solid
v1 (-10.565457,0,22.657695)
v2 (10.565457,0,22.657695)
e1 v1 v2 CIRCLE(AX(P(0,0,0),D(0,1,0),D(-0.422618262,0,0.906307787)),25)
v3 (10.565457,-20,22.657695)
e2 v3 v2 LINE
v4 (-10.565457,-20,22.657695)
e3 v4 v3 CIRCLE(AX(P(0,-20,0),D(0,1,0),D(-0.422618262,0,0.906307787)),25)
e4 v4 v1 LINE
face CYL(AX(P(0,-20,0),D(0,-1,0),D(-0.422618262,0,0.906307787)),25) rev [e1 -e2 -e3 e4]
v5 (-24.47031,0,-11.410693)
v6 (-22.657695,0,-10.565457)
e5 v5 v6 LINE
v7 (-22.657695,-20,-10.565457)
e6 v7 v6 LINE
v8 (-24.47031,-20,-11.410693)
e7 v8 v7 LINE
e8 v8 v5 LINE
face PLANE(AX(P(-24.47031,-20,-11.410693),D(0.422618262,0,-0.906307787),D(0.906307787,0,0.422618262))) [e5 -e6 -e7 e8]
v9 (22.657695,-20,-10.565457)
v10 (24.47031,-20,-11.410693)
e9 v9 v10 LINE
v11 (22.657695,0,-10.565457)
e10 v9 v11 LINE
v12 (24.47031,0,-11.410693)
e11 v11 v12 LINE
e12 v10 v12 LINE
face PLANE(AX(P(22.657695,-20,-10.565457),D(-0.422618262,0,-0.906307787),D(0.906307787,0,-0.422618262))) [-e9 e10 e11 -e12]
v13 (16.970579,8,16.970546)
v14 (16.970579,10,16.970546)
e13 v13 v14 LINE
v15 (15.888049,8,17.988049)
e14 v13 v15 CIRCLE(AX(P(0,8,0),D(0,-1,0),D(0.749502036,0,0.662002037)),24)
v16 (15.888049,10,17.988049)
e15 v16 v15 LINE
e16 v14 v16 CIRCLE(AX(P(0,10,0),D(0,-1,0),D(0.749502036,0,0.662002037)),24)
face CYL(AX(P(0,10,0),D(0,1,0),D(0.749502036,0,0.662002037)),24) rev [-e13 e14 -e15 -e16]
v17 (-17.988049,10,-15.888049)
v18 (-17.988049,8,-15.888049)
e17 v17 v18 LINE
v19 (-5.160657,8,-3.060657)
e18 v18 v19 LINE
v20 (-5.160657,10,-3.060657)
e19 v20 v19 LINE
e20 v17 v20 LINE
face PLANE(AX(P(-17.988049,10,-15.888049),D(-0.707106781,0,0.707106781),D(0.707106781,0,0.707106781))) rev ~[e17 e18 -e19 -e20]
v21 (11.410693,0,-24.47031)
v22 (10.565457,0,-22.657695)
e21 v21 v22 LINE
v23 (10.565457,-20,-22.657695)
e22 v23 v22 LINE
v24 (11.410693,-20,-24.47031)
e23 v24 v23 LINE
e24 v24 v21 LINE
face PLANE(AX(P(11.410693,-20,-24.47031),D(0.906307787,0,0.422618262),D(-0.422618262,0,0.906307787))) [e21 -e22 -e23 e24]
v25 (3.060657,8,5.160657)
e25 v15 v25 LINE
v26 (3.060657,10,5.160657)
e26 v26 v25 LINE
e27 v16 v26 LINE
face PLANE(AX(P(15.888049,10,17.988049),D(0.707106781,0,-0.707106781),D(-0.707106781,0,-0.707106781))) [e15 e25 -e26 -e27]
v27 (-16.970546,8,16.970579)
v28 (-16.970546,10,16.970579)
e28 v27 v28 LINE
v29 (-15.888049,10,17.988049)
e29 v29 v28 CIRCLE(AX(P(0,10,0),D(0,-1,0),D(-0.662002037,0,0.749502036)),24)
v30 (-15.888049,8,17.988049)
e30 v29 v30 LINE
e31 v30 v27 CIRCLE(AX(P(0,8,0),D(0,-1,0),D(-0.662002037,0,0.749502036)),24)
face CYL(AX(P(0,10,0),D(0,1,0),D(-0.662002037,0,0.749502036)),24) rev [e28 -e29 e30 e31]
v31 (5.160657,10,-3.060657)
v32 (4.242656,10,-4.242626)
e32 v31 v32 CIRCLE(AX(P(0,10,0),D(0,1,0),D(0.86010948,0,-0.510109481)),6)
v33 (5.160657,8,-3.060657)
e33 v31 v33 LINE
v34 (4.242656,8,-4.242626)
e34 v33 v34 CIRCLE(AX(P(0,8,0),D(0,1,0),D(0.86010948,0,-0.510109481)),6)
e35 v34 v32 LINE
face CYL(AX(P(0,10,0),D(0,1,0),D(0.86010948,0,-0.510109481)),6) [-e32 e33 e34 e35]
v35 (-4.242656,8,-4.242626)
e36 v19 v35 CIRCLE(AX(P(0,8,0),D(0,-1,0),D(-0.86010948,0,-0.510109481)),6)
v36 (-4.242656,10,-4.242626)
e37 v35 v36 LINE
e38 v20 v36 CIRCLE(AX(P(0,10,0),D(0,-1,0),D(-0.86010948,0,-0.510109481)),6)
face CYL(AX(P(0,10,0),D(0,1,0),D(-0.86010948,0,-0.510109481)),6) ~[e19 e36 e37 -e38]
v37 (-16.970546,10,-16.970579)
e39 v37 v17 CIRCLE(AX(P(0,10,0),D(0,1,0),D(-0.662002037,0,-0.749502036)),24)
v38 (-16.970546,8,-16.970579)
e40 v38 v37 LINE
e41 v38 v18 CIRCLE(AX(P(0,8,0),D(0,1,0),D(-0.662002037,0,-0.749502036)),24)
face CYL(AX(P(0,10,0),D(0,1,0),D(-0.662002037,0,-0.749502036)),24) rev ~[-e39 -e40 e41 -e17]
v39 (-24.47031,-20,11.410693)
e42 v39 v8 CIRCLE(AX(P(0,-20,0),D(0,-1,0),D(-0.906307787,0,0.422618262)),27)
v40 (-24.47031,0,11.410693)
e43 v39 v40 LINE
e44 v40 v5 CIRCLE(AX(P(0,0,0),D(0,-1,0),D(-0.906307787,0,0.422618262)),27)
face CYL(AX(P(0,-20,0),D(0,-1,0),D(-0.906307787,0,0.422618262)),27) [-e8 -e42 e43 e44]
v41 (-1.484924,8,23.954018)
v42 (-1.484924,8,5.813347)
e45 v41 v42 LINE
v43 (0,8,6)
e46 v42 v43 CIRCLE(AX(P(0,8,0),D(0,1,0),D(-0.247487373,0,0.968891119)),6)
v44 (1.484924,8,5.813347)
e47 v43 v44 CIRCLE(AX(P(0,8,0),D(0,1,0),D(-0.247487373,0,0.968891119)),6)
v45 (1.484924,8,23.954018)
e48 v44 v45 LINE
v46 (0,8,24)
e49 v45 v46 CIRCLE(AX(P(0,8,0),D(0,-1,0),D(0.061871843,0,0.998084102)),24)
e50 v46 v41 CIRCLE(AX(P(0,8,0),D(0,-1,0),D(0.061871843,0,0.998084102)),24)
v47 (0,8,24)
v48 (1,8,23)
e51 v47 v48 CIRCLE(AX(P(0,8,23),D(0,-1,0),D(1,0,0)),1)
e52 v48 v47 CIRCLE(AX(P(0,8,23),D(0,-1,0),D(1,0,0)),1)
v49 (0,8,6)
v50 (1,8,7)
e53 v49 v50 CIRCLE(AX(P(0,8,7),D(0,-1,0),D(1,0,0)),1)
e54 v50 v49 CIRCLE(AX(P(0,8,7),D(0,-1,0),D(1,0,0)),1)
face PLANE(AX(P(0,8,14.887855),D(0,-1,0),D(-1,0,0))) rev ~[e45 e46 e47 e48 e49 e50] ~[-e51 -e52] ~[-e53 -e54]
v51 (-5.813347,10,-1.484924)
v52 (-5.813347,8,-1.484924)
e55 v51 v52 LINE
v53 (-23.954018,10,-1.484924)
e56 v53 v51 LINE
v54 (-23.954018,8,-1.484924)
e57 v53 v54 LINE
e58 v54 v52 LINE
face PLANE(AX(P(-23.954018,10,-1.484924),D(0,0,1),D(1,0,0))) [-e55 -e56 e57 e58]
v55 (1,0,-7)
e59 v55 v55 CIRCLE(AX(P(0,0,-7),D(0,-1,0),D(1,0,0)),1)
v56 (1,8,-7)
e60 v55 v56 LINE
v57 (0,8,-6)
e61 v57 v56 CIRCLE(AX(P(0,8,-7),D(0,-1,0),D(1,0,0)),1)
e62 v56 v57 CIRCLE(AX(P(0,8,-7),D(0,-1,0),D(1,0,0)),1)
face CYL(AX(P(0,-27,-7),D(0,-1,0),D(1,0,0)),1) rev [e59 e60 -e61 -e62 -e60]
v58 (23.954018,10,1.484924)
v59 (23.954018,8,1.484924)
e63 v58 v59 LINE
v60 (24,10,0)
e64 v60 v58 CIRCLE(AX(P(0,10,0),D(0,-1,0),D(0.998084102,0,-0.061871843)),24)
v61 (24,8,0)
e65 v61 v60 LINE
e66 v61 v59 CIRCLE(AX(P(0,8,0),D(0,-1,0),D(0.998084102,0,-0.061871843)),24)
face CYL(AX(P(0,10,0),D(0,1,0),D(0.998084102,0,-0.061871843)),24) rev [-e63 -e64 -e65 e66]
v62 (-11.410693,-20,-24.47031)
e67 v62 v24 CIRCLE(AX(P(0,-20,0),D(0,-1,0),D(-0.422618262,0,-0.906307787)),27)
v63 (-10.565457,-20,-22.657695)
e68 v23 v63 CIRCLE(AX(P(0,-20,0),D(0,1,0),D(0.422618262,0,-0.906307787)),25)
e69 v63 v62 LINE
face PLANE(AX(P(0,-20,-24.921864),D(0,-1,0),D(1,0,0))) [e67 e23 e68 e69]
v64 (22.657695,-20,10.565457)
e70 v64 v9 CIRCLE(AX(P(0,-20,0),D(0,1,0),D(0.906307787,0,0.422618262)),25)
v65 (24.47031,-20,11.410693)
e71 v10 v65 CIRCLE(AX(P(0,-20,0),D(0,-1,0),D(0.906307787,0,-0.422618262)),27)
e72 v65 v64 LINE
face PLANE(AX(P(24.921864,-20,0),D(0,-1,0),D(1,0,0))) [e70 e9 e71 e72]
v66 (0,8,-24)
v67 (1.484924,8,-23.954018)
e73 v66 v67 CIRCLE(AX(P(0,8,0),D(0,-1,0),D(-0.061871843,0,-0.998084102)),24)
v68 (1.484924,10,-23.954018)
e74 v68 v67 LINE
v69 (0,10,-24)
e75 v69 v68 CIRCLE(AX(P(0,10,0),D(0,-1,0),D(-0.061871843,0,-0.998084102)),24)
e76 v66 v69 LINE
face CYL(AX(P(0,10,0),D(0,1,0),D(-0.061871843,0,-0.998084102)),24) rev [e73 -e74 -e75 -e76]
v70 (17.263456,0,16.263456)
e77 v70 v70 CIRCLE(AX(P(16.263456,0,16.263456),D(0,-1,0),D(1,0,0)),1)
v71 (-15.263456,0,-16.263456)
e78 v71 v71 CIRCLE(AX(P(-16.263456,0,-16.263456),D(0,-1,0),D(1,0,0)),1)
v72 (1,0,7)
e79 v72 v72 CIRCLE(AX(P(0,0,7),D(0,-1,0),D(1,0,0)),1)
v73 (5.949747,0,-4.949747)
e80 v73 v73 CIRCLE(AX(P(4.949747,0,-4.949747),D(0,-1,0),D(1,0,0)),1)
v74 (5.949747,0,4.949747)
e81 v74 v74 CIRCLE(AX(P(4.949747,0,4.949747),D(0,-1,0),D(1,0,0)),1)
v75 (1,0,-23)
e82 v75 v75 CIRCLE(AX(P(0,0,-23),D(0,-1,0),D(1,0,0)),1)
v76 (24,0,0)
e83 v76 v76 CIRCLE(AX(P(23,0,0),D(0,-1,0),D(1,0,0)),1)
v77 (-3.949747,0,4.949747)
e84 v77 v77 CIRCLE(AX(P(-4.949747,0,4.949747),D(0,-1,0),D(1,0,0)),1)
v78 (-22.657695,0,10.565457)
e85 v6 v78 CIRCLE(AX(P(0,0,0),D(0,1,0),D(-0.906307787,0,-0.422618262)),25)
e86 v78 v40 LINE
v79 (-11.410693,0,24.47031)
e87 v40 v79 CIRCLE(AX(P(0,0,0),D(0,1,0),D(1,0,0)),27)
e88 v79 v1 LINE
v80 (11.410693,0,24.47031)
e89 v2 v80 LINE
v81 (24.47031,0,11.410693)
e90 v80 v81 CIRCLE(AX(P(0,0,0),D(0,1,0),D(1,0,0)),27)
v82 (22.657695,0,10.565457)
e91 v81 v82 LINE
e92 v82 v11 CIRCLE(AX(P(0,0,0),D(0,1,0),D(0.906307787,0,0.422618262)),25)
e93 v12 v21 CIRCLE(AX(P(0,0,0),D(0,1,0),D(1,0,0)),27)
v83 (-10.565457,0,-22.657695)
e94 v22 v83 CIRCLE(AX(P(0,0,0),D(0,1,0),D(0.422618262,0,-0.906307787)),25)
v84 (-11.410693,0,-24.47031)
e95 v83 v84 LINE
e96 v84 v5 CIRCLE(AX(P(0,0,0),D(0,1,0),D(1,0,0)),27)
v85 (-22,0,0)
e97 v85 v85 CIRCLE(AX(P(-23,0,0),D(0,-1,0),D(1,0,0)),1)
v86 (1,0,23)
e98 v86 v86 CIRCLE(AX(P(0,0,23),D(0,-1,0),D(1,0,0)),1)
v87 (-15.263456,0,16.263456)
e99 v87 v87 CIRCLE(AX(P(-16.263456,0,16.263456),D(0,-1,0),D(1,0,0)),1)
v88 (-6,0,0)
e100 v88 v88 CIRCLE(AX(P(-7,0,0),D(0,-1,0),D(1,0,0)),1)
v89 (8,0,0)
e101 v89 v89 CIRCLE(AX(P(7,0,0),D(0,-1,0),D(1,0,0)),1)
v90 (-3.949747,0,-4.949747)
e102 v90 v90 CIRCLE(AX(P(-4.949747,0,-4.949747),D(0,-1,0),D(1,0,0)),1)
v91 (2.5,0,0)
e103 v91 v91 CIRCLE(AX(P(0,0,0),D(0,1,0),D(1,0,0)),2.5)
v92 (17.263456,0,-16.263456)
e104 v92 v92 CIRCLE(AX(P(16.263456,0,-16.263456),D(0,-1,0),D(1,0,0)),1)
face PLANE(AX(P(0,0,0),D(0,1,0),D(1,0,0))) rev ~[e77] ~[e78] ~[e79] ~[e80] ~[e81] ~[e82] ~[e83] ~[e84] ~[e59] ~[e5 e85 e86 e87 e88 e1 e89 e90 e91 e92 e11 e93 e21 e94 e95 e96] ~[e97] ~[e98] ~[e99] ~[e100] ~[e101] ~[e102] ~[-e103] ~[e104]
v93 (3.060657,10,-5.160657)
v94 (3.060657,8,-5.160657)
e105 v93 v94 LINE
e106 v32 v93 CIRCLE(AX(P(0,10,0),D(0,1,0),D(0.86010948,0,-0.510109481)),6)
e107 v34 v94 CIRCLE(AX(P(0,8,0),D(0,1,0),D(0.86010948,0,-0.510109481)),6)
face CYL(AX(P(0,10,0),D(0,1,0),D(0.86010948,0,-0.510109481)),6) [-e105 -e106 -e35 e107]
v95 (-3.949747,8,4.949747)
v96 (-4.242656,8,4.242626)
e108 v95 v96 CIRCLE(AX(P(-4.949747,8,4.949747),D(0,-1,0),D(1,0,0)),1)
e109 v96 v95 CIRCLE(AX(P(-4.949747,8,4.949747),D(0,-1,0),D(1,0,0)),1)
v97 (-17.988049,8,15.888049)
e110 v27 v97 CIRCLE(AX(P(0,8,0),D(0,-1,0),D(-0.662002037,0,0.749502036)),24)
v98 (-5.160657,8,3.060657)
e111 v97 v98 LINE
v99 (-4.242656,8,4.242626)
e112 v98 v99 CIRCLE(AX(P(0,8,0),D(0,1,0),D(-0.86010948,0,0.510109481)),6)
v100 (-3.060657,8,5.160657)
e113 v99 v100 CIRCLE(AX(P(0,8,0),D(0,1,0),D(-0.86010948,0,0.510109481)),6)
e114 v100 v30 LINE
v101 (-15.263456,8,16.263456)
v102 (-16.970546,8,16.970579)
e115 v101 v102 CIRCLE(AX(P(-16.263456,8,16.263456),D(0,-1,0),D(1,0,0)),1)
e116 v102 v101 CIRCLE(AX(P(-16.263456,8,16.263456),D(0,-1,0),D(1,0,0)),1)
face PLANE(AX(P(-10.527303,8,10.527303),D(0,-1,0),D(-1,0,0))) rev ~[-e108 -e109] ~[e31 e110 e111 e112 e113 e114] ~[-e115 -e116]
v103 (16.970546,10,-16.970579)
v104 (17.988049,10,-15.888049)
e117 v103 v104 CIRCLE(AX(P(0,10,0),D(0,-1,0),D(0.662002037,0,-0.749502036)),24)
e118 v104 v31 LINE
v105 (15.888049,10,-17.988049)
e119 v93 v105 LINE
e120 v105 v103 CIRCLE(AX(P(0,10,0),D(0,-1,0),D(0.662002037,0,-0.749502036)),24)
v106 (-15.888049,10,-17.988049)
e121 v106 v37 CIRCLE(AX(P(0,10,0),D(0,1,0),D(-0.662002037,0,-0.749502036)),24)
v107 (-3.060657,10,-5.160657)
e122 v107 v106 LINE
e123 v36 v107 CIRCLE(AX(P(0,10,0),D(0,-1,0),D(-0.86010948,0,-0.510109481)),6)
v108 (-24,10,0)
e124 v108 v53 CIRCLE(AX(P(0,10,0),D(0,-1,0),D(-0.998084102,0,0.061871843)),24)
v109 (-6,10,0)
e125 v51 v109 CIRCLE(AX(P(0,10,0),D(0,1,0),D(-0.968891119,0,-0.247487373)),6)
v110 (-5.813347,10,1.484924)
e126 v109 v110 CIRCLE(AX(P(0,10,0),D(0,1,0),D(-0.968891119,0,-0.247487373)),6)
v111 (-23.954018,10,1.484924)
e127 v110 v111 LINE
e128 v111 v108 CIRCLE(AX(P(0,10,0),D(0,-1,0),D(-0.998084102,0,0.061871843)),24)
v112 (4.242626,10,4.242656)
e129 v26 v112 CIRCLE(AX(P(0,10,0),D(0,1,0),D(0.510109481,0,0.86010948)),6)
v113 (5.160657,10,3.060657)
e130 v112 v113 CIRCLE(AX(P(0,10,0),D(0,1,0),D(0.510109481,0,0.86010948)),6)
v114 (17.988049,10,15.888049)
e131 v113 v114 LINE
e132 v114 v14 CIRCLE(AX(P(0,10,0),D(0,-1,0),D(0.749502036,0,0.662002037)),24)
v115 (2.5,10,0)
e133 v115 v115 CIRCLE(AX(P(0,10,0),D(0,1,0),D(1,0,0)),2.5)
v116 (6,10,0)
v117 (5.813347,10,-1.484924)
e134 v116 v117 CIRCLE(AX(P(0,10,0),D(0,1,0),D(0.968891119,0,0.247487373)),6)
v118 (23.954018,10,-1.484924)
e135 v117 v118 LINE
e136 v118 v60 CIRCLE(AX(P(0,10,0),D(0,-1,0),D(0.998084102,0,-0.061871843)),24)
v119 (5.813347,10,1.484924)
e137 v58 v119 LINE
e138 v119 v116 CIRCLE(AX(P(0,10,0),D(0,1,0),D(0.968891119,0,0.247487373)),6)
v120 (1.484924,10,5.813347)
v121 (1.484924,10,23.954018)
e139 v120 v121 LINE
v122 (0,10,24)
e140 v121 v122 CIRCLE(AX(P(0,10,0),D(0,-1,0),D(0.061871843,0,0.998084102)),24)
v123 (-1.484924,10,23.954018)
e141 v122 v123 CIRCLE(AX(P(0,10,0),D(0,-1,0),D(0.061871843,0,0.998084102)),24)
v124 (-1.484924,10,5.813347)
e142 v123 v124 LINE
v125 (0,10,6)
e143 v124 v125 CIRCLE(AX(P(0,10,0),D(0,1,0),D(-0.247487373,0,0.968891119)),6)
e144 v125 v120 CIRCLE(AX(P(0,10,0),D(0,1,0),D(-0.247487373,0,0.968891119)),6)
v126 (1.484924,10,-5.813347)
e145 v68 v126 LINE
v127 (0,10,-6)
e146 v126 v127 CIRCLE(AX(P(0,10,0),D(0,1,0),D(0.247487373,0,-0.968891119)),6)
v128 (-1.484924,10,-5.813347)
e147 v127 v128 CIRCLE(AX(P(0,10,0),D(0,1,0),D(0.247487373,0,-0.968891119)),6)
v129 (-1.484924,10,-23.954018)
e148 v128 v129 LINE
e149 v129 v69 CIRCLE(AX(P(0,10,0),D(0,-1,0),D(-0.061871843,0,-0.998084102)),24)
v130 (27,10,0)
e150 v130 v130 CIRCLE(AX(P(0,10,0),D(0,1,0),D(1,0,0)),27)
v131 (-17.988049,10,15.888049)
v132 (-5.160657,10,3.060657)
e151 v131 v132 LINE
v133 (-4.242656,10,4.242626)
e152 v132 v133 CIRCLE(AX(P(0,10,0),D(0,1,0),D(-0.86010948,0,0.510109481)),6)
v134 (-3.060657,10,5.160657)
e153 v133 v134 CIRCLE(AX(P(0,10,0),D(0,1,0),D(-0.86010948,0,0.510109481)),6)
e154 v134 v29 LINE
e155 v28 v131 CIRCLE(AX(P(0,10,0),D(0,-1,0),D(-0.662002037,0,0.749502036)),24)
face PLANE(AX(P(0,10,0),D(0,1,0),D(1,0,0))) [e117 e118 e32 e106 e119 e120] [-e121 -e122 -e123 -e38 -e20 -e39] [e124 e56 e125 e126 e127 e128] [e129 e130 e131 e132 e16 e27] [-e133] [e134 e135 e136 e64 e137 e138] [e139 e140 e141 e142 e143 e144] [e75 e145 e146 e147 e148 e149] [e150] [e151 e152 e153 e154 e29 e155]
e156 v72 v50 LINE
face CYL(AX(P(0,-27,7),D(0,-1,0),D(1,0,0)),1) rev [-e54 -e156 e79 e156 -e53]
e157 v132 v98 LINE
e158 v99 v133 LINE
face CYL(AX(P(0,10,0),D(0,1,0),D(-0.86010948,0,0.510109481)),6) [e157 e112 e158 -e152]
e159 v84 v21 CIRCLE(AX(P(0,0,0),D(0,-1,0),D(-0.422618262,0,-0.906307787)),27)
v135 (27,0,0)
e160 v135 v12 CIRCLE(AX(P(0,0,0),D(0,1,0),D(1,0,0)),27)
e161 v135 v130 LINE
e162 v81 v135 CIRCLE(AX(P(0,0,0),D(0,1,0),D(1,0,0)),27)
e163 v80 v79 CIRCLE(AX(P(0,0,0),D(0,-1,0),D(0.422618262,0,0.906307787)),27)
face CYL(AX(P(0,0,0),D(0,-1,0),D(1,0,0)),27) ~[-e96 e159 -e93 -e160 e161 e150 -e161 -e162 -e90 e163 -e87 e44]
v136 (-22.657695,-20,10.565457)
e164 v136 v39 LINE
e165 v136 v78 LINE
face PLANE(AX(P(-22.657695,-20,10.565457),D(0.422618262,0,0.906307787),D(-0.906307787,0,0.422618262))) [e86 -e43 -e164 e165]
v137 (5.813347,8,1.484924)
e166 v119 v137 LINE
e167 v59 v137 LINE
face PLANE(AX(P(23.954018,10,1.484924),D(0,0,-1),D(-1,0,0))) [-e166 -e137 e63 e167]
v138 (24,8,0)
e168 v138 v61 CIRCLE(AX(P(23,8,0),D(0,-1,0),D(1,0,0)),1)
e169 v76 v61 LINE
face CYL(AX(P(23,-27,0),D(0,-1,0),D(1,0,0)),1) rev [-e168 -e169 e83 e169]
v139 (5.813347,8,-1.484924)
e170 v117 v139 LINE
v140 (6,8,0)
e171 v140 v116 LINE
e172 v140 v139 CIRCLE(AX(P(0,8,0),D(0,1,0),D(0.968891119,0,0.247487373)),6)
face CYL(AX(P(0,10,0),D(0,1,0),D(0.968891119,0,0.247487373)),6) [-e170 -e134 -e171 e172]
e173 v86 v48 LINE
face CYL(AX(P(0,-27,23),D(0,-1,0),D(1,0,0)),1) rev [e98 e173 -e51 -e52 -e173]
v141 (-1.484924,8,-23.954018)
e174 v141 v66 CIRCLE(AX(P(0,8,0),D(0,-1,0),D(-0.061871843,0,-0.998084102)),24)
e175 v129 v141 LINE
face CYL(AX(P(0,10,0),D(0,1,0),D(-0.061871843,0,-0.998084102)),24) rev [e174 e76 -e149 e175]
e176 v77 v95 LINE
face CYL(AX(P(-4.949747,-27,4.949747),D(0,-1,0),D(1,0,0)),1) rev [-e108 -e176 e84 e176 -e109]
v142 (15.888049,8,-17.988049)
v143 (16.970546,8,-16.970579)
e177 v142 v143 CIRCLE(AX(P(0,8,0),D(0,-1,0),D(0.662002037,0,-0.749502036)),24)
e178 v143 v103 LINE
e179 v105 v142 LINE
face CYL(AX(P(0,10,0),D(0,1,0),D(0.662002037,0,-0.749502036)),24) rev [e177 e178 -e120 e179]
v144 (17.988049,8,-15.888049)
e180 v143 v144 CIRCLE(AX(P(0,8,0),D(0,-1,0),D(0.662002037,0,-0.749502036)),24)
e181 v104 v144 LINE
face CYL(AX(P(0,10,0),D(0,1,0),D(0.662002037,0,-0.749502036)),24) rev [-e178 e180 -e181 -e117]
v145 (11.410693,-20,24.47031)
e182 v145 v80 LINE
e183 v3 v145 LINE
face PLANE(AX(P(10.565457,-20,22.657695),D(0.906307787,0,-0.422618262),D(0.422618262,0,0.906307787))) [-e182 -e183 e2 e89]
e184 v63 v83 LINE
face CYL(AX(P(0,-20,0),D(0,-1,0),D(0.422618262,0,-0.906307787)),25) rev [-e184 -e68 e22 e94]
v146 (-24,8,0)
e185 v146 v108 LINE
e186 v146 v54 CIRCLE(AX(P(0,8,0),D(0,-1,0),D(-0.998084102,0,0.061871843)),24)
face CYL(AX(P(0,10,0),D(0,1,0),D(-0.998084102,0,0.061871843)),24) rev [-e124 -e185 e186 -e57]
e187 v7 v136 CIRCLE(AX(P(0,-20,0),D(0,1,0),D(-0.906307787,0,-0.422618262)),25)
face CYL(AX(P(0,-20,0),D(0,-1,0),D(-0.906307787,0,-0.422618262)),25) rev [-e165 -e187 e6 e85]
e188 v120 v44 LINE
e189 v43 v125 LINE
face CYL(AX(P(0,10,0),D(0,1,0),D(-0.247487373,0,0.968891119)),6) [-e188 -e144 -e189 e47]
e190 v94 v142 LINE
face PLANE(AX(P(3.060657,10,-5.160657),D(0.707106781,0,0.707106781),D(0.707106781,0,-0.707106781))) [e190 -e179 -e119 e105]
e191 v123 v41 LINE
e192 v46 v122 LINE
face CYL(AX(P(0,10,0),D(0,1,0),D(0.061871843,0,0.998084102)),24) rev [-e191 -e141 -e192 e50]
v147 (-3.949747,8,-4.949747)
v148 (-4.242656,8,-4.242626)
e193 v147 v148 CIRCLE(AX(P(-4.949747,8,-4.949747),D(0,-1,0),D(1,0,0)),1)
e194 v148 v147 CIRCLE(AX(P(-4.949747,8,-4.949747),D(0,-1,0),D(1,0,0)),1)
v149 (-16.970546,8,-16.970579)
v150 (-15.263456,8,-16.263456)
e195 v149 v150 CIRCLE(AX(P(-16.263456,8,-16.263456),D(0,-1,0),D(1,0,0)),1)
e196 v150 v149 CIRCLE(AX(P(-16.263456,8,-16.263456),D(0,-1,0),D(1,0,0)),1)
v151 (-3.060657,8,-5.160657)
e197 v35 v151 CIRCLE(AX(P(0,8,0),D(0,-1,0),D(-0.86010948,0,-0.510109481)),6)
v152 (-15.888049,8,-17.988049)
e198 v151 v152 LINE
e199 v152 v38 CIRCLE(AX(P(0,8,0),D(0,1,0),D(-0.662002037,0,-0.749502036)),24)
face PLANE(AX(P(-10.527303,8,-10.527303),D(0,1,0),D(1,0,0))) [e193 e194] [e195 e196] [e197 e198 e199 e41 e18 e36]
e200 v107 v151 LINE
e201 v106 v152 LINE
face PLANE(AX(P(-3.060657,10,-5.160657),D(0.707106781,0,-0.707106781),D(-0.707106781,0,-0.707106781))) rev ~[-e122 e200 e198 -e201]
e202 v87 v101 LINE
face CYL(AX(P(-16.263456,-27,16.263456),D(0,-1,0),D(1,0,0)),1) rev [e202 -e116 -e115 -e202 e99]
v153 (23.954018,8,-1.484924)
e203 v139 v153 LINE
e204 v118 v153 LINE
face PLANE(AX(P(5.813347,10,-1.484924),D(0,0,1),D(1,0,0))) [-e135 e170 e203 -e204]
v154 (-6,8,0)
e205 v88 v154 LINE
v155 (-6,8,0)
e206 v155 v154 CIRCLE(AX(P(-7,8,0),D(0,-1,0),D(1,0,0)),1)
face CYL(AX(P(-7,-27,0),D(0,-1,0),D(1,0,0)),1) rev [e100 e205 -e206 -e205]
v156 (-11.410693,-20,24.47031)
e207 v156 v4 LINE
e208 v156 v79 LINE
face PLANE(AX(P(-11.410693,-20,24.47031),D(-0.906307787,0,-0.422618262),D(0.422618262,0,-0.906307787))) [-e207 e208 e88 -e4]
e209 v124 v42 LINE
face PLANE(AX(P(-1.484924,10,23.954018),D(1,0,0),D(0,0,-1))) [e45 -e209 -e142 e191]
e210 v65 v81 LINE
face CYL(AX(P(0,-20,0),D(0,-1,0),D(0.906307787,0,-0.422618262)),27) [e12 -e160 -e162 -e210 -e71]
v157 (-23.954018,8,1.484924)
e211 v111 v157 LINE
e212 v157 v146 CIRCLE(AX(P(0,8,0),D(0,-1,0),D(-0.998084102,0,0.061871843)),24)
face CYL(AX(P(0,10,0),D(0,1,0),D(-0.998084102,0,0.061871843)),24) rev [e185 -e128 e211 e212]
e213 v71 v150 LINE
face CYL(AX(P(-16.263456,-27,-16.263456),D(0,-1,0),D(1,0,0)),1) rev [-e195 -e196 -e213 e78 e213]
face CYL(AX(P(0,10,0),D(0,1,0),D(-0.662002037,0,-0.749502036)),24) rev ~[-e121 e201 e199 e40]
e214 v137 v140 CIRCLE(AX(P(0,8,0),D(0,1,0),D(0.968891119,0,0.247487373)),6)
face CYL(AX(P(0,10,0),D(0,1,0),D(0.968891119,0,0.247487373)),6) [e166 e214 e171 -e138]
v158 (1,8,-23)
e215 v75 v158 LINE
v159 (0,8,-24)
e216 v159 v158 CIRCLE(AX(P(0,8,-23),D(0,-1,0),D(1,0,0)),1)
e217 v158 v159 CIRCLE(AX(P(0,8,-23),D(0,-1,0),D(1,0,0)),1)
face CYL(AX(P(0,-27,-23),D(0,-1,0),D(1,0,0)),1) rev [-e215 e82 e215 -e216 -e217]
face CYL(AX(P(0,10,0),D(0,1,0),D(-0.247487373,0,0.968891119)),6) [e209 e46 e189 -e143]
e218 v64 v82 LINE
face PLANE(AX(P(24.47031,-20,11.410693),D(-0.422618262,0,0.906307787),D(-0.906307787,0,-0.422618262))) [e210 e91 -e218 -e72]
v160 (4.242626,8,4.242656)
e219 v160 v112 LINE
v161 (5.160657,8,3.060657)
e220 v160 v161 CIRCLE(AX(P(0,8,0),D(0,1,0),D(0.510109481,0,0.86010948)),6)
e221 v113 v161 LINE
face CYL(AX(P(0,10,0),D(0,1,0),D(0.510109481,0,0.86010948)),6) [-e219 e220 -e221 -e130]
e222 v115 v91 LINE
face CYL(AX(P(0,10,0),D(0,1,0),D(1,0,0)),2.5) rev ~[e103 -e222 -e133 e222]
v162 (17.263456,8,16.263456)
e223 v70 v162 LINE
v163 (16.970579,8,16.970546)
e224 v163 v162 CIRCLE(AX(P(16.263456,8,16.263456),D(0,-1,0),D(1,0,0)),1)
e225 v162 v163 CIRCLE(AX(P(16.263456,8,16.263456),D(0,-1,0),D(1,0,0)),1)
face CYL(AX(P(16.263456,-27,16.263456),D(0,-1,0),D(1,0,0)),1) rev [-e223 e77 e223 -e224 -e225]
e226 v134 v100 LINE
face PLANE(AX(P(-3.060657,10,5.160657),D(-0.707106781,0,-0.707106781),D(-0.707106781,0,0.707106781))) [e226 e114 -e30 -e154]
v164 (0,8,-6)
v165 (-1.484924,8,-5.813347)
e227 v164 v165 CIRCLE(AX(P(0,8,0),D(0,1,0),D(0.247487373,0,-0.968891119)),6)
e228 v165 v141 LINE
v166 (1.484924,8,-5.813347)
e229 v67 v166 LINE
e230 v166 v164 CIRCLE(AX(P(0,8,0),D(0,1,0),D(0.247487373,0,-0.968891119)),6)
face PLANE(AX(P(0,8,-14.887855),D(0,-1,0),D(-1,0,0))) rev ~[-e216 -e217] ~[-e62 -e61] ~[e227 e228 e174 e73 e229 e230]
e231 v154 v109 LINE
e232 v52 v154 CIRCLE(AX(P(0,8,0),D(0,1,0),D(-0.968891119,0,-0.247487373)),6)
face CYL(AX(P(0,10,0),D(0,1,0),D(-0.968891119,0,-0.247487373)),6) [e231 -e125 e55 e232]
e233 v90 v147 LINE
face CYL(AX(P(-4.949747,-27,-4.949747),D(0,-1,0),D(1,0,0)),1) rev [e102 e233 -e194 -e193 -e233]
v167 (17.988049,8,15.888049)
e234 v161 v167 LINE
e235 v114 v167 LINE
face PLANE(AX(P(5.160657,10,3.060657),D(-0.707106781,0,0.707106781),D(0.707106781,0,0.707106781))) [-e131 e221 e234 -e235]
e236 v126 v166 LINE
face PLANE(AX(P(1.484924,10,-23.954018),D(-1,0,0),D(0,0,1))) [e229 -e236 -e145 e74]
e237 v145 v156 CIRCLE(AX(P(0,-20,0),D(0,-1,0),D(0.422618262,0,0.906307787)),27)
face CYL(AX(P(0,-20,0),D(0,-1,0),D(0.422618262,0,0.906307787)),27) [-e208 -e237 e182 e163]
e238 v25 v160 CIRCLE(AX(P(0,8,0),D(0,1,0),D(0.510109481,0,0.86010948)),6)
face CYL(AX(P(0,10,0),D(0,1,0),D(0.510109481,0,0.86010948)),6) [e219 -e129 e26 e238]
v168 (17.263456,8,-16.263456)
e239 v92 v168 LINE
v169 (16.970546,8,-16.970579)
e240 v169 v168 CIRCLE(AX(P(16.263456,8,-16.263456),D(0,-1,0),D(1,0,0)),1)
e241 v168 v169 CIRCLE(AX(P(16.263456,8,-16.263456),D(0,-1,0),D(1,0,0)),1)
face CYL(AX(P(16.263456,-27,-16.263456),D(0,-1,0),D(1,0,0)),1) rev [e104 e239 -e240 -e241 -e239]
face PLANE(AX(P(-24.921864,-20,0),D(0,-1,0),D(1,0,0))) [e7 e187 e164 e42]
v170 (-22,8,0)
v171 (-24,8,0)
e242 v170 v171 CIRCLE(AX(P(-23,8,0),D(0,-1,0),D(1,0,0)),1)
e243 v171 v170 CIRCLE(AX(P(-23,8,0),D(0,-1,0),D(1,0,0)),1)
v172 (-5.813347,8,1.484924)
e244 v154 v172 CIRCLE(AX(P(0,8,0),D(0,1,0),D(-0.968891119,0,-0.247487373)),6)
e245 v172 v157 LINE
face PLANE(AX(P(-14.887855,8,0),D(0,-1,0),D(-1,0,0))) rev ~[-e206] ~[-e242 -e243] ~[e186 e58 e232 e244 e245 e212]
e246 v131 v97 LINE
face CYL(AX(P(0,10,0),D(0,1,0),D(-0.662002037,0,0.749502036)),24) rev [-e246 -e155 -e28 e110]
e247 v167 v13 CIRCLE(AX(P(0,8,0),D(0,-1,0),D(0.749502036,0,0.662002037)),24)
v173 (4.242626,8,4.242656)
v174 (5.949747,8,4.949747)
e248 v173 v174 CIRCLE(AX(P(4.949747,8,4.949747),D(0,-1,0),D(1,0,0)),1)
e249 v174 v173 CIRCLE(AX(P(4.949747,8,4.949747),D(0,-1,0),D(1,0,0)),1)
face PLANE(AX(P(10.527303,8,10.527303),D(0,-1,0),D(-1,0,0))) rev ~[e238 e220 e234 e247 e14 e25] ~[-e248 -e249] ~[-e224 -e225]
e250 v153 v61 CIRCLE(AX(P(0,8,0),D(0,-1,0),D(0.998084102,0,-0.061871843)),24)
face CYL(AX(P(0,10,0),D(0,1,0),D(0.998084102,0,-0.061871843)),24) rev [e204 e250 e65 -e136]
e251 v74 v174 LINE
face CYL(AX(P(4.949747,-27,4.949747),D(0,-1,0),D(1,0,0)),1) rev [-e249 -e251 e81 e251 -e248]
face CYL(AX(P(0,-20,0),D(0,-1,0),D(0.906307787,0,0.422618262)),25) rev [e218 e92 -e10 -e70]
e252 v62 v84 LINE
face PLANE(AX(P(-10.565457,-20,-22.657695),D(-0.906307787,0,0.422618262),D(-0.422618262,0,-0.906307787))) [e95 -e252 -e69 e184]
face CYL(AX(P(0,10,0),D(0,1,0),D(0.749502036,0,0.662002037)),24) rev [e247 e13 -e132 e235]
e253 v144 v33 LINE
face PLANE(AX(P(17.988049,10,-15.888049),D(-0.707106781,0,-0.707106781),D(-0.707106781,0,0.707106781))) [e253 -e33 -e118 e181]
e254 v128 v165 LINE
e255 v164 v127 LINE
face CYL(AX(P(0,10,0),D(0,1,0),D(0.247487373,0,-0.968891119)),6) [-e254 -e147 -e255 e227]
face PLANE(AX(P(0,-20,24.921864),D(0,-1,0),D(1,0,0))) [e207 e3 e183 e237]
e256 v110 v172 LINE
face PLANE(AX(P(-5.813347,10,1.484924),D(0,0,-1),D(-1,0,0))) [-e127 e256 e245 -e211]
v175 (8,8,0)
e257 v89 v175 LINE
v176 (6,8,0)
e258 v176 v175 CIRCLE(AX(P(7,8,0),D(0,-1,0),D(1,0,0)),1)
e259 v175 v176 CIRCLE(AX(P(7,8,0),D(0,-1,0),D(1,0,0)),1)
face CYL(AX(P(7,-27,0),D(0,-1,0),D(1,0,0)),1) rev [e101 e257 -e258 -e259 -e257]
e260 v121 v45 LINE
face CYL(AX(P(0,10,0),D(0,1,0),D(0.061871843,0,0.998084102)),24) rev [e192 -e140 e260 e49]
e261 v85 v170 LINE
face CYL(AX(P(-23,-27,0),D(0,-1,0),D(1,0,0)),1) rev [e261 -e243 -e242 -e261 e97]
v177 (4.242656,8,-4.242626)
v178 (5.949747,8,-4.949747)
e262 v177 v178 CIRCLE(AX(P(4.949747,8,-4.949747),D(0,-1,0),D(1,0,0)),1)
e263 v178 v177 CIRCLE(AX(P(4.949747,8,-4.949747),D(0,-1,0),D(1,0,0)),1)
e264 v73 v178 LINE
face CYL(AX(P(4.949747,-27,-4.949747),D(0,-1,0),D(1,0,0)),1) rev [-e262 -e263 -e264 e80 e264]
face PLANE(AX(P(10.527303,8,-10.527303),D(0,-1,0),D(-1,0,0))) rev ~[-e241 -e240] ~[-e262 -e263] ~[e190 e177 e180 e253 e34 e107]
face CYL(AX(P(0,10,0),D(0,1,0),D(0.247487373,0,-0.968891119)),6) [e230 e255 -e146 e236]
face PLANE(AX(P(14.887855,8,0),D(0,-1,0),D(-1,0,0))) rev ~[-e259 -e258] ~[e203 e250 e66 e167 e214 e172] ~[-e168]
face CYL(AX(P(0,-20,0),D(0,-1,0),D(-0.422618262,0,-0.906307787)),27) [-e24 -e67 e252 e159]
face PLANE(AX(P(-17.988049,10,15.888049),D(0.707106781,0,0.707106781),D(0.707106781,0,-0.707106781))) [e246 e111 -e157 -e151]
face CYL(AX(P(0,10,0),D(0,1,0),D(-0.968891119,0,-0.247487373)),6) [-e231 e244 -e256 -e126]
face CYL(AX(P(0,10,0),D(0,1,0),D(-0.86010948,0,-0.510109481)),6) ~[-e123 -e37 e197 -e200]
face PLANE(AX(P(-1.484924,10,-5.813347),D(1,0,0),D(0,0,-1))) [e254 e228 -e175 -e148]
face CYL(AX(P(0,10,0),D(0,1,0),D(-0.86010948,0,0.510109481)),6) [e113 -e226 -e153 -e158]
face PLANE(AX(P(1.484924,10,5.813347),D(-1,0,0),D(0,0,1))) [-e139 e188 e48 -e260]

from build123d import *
from build123d.topology import SkipClean

# Parameters (mm, degrees)
SKETCH_1_R               = 27
EXTRUDE_1_DEPTH          = 10
SKETCH_2_R               = 2.5
CUT_EXTRUDE_1_DEPTH      = 15
EXTRUDE_START            = 20
EXTRUDE_2_DEPTH          = 20
CUT_EXTRUDE_2_DEPTH      = 2
CUT_EXTRUDE_3_DEPTH      = 37
CUT_EXTRUDE_3_DEPTH_BACK = 37
SKETCH_5_R               = 1


with BuildPart() as part:
    # Эскиз1 → Бобышка-Вытянуть1 (new body)
    with BuildSketch(Plane(origin=(0, 0, 0), x_dir=(1, 0, 0), z_dir=(0, 1, 0))):
        Circle(SKETCH_1_R)
    extrude(amount=EXTRUDE_1_DEPTH)

    # Эскиз2 → Вырез-Вытянуть1 (cut)
    with BuildSketch(Plane(origin=(0, 10, 0), x_dir=(1, 0, 0), z_dir=(0, 1, 0))):
        Circle(SKETCH_2_R)
    extrude(amount=-CUT_EXTRUDE_1_DEPTH, mode=Mode.SUBTRACT)

    # Эскиз3 → Бобышка-Вытянуть2 (add)
    with SkipClean():  # the faces are left unmerged after this step: merging them gives an invalid solid
        with BuildSketch(Plane.XZ.offset(EXTRUDE_START)):
            with BuildLine():
                Line((-11.410693066, 24.47031025), (-10.565456543, 22.657694676))
                ThreePointArc((-10.565456543, 22.657694676), (1e-09, 25), (10.565456544, 22.657694676))
                Line((10.565456544, 22.657694676), (11.410693067, 24.47031025))
                ThreePointArc((11.410693067, 24.47031025), (1e-09, 27), (-11.410693066, 24.47031025))
            make_face()
            with BuildLine():
                Line((24.47031025, 11.410693066), (22.657694676, 10.565456543))
                ThreePointArc((22.657694676, 10.565456543), (25, -1e-09), (22.657694676, -10.565456544))
                Line((22.657694676, -10.565456544), (24.47031025, -11.410693067))
                ThreePointArc((24.47031025, -11.410693067), (27, -1e-09), (24.47031025, 11.410693066))
            make_face()
            with BuildLine():
                Line((11.410693066, -24.47031025), (10.565456543, -22.657694676))
                ThreePointArc((10.565456543, -22.657694676), (-1e-09, -25), (-10.565456544, -22.657694676))
                Line((-10.565456544, -22.657694676), (-11.410693067, -24.47031025))
                ThreePointArc((-11.410693067, -24.47031025), (-1e-09, -27), (11.410693066, -24.47031025))
            make_face()
            with BuildLine():
                Line((-24.47031025, -11.410693066), (-22.657694676, -10.565456543))
                ThreePointArc((-22.657694676, -10.565456543), (-25, 1e-09), (-22.657694676, 10.565456544))
                Line((-22.657694676, 10.565456544), (-24.47031025, 11.410693067))
                ThreePointArc((-24.47031025, 11.410693067), (-27, 1e-09), (-24.47031025, -11.410693066))
            make_face()
        extrude(amount=-EXTRUDE_2_DEPTH)

    # Эскиз4 → Вырез-Вытянуть2 (cut)
    with SkipClean():  # the faces are left unmerged after this step: merging them gives an invalid solid
        with BuildSketch(Plane(origin=(0, 10, 0), x_dir=(1, 0, 0), z_dir=(0, 1, 0))):
            with BuildLine():
                Line((-17.988048884, 15.888048884), (-5.160656882, 3.060656882))
                ThreePointArc((-5.160656882, 3.060656882), (-4.242640687, 4.242640687), (-3.060656882, 5.160656882))
                Line((-3.060656882, 5.160656882), (-15.888048884, 17.988048884))
                ThreePointArc((-15.888048884, 17.988048884), (-16.970562748, 16.970562748), (-17.988048884, 15.888048884))
            make_face()
            with BuildLine():
                Line((1.48492424, 23.954018452), (1.48492424, 5.813346713))
                ThreePointArc((1.48492424, 5.813346713), (0, 6), (-1.484924241, 5.813346713))
                Line((-1.484924241, 5.813346713), (-1.484924241, 23.954018452))
                ThreePointArc((-1.484924241, 23.954018452), (0, 24), (1.48492424, 23.954018452))
            make_face()
            with BuildLine():
                Line((17.988048884, 15.888048884), (5.160656882, 3.060656882))
                ThreePointArc((5.160656882, 3.060656882), (4.242640687, 4.242640687), (3.060656882, 5.160656882))
                Line((3.060656882, 5.160656882), (15.888048884, 17.988048884))
                ThreePointArc((15.888048884, 17.988048884), (16.970562748, 16.970562748), (17.988048884, 15.888048884))
            make_face()
            with BuildLine():
                Line((23.954018452, -1.48492424), (5.813346713, -1.48492424))
                ThreePointArc((5.813346713, -1.48492424), (6, 0), (5.813346713, 1.484924241))
                Line((5.813346713, 1.484924241), (23.954018452, 1.484924241))
                ThreePointArc((23.954018452, 1.484924241), (24, 0), (23.954018452, -1.48492424))
            make_face()
            with BuildLine():
                Line((15.888048884, -17.988048884), (3.060656882, -5.160656882))
                ThreePointArc((3.060656882, -5.160656882), (4.242640687, -4.242640687), (5.160656882, -3.060656882))
                Line((5.160656882, -3.060656882), (17.988048884, -15.888048884))
                ThreePointArc((17.988048884, -15.888048884), (16.970562748, -16.970562748), (15.888048884, -17.988048884))
            make_face()
            with BuildLine():
                Line((-1.48492424, -23.954018452), (-1.48492424, -5.813346713))
                ThreePointArc((-1.48492424, -5.813346713), (0, -6), (1.484924241, -5.813346713))
                Line((1.484924241, -5.813346713), (1.484924241, -23.954018452))
                ThreePointArc((1.484924241, -23.954018452), (0, -24), (-1.48492424, -23.954018452))
            make_face()
            with BuildLine():
                Line((-17.988048884, -15.888048884), (-5.160656882, -3.060656882))
                ThreePointArc((-5.160656882, -3.060656882), (-4.242640687, -4.242640687), (-3.060656882, -5.160656882))
                Line((-3.060656882, -5.160656882), (-15.888048884, -17.988048884))
                ThreePointArc((-15.888048884, -17.988048884), (-16.970562748, -16.970562748), (-17.988048884, -15.888048884))
            make_face()
            with BuildLine():
                Line((-23.954018452, 1.48492424), (-5.813346713, 1.48492424))
                ThreePointArc((-5.813346713, 1.48492424), (-6, 0), (-5.813346713, -1.484924241))
                Line((-5.813346713, -1.484924241), (-23.954018452, -1.484924241))
                ThreePointArc((-23.954018452, -1.484924241), (-24, 0), (-23.954018452, 1.48492424))
            make_face()
        extrude(amount=-CUT_EXTRUDE_2_DEPTH, mode=Mode.SUBTRACT)

    # Эскиз5 → Вырез-Вытянуть3 (cut, two sides: drawn at the far end of the back side and taken through both)
    with SkipClean():  # the faces are left unmerged after this step: merging them gives an invalid solid
        with BuildSketch(Plane(origin=(0, 10, 0), x_dir=(1, 0, 0), z_dir=(0, 1, 0)).offset(-CUT_EXTRUDE_3_DEPTH_BACK)):
            with Locations((-7, 0)):
                Circle(SKETCH_5_R)
            with Locations((-23, 0)):
                Circle(SKETCH_5_R)
            with Locations((-16.263455967, 16.263455967)):
                Circle(SKETCH_5_R)
            with Locations((-4.949747468, 4.949747468)):
                Circle(SKETCH_5_R)
            with Locations((0, 23)):
                Circle(SKETCH_5_R)
            with Locations((0, 7)):
                Circle(SKETCH_5_R)
            with Locations((16.263455967, 16.263455967)):
                Circle(SKETCH_5_R)
            with Locations((4.949747468, 4.949747468)):
                Circle(SKETCH_5_R)
            with Locations((23, 0)):
                Circle(SKETCH_5_R)
            with Locations((7, 0)):
                Circle(SKETCH_5_R)
            with Locations((16.263455967, -16.263455967)):
                Circle(SKETCH_5_R)
            with Locations((4.949747468, -4.949747468)):
                Circle(SKETCH_5_R)
            with Locations((0, -23)):
                Circle(SKETCH_5_R)
            with Locations((0, -7)):
                Circle(SKETCH_5_R)
            with Locations((-16.263455967, -16.263455967)):
                Circle(SKETCH_5_R)
            with Locations((-4.949747468, -4.949747468)):
                Circle(SKETCH_5_R)
        extrude(amount=CUT_EXTRUDE_3_DEPTH + CUT_EXTRUDE_3_DEPTH_BACK, mode=Mode.SUBTRACT)


solid = part.part
